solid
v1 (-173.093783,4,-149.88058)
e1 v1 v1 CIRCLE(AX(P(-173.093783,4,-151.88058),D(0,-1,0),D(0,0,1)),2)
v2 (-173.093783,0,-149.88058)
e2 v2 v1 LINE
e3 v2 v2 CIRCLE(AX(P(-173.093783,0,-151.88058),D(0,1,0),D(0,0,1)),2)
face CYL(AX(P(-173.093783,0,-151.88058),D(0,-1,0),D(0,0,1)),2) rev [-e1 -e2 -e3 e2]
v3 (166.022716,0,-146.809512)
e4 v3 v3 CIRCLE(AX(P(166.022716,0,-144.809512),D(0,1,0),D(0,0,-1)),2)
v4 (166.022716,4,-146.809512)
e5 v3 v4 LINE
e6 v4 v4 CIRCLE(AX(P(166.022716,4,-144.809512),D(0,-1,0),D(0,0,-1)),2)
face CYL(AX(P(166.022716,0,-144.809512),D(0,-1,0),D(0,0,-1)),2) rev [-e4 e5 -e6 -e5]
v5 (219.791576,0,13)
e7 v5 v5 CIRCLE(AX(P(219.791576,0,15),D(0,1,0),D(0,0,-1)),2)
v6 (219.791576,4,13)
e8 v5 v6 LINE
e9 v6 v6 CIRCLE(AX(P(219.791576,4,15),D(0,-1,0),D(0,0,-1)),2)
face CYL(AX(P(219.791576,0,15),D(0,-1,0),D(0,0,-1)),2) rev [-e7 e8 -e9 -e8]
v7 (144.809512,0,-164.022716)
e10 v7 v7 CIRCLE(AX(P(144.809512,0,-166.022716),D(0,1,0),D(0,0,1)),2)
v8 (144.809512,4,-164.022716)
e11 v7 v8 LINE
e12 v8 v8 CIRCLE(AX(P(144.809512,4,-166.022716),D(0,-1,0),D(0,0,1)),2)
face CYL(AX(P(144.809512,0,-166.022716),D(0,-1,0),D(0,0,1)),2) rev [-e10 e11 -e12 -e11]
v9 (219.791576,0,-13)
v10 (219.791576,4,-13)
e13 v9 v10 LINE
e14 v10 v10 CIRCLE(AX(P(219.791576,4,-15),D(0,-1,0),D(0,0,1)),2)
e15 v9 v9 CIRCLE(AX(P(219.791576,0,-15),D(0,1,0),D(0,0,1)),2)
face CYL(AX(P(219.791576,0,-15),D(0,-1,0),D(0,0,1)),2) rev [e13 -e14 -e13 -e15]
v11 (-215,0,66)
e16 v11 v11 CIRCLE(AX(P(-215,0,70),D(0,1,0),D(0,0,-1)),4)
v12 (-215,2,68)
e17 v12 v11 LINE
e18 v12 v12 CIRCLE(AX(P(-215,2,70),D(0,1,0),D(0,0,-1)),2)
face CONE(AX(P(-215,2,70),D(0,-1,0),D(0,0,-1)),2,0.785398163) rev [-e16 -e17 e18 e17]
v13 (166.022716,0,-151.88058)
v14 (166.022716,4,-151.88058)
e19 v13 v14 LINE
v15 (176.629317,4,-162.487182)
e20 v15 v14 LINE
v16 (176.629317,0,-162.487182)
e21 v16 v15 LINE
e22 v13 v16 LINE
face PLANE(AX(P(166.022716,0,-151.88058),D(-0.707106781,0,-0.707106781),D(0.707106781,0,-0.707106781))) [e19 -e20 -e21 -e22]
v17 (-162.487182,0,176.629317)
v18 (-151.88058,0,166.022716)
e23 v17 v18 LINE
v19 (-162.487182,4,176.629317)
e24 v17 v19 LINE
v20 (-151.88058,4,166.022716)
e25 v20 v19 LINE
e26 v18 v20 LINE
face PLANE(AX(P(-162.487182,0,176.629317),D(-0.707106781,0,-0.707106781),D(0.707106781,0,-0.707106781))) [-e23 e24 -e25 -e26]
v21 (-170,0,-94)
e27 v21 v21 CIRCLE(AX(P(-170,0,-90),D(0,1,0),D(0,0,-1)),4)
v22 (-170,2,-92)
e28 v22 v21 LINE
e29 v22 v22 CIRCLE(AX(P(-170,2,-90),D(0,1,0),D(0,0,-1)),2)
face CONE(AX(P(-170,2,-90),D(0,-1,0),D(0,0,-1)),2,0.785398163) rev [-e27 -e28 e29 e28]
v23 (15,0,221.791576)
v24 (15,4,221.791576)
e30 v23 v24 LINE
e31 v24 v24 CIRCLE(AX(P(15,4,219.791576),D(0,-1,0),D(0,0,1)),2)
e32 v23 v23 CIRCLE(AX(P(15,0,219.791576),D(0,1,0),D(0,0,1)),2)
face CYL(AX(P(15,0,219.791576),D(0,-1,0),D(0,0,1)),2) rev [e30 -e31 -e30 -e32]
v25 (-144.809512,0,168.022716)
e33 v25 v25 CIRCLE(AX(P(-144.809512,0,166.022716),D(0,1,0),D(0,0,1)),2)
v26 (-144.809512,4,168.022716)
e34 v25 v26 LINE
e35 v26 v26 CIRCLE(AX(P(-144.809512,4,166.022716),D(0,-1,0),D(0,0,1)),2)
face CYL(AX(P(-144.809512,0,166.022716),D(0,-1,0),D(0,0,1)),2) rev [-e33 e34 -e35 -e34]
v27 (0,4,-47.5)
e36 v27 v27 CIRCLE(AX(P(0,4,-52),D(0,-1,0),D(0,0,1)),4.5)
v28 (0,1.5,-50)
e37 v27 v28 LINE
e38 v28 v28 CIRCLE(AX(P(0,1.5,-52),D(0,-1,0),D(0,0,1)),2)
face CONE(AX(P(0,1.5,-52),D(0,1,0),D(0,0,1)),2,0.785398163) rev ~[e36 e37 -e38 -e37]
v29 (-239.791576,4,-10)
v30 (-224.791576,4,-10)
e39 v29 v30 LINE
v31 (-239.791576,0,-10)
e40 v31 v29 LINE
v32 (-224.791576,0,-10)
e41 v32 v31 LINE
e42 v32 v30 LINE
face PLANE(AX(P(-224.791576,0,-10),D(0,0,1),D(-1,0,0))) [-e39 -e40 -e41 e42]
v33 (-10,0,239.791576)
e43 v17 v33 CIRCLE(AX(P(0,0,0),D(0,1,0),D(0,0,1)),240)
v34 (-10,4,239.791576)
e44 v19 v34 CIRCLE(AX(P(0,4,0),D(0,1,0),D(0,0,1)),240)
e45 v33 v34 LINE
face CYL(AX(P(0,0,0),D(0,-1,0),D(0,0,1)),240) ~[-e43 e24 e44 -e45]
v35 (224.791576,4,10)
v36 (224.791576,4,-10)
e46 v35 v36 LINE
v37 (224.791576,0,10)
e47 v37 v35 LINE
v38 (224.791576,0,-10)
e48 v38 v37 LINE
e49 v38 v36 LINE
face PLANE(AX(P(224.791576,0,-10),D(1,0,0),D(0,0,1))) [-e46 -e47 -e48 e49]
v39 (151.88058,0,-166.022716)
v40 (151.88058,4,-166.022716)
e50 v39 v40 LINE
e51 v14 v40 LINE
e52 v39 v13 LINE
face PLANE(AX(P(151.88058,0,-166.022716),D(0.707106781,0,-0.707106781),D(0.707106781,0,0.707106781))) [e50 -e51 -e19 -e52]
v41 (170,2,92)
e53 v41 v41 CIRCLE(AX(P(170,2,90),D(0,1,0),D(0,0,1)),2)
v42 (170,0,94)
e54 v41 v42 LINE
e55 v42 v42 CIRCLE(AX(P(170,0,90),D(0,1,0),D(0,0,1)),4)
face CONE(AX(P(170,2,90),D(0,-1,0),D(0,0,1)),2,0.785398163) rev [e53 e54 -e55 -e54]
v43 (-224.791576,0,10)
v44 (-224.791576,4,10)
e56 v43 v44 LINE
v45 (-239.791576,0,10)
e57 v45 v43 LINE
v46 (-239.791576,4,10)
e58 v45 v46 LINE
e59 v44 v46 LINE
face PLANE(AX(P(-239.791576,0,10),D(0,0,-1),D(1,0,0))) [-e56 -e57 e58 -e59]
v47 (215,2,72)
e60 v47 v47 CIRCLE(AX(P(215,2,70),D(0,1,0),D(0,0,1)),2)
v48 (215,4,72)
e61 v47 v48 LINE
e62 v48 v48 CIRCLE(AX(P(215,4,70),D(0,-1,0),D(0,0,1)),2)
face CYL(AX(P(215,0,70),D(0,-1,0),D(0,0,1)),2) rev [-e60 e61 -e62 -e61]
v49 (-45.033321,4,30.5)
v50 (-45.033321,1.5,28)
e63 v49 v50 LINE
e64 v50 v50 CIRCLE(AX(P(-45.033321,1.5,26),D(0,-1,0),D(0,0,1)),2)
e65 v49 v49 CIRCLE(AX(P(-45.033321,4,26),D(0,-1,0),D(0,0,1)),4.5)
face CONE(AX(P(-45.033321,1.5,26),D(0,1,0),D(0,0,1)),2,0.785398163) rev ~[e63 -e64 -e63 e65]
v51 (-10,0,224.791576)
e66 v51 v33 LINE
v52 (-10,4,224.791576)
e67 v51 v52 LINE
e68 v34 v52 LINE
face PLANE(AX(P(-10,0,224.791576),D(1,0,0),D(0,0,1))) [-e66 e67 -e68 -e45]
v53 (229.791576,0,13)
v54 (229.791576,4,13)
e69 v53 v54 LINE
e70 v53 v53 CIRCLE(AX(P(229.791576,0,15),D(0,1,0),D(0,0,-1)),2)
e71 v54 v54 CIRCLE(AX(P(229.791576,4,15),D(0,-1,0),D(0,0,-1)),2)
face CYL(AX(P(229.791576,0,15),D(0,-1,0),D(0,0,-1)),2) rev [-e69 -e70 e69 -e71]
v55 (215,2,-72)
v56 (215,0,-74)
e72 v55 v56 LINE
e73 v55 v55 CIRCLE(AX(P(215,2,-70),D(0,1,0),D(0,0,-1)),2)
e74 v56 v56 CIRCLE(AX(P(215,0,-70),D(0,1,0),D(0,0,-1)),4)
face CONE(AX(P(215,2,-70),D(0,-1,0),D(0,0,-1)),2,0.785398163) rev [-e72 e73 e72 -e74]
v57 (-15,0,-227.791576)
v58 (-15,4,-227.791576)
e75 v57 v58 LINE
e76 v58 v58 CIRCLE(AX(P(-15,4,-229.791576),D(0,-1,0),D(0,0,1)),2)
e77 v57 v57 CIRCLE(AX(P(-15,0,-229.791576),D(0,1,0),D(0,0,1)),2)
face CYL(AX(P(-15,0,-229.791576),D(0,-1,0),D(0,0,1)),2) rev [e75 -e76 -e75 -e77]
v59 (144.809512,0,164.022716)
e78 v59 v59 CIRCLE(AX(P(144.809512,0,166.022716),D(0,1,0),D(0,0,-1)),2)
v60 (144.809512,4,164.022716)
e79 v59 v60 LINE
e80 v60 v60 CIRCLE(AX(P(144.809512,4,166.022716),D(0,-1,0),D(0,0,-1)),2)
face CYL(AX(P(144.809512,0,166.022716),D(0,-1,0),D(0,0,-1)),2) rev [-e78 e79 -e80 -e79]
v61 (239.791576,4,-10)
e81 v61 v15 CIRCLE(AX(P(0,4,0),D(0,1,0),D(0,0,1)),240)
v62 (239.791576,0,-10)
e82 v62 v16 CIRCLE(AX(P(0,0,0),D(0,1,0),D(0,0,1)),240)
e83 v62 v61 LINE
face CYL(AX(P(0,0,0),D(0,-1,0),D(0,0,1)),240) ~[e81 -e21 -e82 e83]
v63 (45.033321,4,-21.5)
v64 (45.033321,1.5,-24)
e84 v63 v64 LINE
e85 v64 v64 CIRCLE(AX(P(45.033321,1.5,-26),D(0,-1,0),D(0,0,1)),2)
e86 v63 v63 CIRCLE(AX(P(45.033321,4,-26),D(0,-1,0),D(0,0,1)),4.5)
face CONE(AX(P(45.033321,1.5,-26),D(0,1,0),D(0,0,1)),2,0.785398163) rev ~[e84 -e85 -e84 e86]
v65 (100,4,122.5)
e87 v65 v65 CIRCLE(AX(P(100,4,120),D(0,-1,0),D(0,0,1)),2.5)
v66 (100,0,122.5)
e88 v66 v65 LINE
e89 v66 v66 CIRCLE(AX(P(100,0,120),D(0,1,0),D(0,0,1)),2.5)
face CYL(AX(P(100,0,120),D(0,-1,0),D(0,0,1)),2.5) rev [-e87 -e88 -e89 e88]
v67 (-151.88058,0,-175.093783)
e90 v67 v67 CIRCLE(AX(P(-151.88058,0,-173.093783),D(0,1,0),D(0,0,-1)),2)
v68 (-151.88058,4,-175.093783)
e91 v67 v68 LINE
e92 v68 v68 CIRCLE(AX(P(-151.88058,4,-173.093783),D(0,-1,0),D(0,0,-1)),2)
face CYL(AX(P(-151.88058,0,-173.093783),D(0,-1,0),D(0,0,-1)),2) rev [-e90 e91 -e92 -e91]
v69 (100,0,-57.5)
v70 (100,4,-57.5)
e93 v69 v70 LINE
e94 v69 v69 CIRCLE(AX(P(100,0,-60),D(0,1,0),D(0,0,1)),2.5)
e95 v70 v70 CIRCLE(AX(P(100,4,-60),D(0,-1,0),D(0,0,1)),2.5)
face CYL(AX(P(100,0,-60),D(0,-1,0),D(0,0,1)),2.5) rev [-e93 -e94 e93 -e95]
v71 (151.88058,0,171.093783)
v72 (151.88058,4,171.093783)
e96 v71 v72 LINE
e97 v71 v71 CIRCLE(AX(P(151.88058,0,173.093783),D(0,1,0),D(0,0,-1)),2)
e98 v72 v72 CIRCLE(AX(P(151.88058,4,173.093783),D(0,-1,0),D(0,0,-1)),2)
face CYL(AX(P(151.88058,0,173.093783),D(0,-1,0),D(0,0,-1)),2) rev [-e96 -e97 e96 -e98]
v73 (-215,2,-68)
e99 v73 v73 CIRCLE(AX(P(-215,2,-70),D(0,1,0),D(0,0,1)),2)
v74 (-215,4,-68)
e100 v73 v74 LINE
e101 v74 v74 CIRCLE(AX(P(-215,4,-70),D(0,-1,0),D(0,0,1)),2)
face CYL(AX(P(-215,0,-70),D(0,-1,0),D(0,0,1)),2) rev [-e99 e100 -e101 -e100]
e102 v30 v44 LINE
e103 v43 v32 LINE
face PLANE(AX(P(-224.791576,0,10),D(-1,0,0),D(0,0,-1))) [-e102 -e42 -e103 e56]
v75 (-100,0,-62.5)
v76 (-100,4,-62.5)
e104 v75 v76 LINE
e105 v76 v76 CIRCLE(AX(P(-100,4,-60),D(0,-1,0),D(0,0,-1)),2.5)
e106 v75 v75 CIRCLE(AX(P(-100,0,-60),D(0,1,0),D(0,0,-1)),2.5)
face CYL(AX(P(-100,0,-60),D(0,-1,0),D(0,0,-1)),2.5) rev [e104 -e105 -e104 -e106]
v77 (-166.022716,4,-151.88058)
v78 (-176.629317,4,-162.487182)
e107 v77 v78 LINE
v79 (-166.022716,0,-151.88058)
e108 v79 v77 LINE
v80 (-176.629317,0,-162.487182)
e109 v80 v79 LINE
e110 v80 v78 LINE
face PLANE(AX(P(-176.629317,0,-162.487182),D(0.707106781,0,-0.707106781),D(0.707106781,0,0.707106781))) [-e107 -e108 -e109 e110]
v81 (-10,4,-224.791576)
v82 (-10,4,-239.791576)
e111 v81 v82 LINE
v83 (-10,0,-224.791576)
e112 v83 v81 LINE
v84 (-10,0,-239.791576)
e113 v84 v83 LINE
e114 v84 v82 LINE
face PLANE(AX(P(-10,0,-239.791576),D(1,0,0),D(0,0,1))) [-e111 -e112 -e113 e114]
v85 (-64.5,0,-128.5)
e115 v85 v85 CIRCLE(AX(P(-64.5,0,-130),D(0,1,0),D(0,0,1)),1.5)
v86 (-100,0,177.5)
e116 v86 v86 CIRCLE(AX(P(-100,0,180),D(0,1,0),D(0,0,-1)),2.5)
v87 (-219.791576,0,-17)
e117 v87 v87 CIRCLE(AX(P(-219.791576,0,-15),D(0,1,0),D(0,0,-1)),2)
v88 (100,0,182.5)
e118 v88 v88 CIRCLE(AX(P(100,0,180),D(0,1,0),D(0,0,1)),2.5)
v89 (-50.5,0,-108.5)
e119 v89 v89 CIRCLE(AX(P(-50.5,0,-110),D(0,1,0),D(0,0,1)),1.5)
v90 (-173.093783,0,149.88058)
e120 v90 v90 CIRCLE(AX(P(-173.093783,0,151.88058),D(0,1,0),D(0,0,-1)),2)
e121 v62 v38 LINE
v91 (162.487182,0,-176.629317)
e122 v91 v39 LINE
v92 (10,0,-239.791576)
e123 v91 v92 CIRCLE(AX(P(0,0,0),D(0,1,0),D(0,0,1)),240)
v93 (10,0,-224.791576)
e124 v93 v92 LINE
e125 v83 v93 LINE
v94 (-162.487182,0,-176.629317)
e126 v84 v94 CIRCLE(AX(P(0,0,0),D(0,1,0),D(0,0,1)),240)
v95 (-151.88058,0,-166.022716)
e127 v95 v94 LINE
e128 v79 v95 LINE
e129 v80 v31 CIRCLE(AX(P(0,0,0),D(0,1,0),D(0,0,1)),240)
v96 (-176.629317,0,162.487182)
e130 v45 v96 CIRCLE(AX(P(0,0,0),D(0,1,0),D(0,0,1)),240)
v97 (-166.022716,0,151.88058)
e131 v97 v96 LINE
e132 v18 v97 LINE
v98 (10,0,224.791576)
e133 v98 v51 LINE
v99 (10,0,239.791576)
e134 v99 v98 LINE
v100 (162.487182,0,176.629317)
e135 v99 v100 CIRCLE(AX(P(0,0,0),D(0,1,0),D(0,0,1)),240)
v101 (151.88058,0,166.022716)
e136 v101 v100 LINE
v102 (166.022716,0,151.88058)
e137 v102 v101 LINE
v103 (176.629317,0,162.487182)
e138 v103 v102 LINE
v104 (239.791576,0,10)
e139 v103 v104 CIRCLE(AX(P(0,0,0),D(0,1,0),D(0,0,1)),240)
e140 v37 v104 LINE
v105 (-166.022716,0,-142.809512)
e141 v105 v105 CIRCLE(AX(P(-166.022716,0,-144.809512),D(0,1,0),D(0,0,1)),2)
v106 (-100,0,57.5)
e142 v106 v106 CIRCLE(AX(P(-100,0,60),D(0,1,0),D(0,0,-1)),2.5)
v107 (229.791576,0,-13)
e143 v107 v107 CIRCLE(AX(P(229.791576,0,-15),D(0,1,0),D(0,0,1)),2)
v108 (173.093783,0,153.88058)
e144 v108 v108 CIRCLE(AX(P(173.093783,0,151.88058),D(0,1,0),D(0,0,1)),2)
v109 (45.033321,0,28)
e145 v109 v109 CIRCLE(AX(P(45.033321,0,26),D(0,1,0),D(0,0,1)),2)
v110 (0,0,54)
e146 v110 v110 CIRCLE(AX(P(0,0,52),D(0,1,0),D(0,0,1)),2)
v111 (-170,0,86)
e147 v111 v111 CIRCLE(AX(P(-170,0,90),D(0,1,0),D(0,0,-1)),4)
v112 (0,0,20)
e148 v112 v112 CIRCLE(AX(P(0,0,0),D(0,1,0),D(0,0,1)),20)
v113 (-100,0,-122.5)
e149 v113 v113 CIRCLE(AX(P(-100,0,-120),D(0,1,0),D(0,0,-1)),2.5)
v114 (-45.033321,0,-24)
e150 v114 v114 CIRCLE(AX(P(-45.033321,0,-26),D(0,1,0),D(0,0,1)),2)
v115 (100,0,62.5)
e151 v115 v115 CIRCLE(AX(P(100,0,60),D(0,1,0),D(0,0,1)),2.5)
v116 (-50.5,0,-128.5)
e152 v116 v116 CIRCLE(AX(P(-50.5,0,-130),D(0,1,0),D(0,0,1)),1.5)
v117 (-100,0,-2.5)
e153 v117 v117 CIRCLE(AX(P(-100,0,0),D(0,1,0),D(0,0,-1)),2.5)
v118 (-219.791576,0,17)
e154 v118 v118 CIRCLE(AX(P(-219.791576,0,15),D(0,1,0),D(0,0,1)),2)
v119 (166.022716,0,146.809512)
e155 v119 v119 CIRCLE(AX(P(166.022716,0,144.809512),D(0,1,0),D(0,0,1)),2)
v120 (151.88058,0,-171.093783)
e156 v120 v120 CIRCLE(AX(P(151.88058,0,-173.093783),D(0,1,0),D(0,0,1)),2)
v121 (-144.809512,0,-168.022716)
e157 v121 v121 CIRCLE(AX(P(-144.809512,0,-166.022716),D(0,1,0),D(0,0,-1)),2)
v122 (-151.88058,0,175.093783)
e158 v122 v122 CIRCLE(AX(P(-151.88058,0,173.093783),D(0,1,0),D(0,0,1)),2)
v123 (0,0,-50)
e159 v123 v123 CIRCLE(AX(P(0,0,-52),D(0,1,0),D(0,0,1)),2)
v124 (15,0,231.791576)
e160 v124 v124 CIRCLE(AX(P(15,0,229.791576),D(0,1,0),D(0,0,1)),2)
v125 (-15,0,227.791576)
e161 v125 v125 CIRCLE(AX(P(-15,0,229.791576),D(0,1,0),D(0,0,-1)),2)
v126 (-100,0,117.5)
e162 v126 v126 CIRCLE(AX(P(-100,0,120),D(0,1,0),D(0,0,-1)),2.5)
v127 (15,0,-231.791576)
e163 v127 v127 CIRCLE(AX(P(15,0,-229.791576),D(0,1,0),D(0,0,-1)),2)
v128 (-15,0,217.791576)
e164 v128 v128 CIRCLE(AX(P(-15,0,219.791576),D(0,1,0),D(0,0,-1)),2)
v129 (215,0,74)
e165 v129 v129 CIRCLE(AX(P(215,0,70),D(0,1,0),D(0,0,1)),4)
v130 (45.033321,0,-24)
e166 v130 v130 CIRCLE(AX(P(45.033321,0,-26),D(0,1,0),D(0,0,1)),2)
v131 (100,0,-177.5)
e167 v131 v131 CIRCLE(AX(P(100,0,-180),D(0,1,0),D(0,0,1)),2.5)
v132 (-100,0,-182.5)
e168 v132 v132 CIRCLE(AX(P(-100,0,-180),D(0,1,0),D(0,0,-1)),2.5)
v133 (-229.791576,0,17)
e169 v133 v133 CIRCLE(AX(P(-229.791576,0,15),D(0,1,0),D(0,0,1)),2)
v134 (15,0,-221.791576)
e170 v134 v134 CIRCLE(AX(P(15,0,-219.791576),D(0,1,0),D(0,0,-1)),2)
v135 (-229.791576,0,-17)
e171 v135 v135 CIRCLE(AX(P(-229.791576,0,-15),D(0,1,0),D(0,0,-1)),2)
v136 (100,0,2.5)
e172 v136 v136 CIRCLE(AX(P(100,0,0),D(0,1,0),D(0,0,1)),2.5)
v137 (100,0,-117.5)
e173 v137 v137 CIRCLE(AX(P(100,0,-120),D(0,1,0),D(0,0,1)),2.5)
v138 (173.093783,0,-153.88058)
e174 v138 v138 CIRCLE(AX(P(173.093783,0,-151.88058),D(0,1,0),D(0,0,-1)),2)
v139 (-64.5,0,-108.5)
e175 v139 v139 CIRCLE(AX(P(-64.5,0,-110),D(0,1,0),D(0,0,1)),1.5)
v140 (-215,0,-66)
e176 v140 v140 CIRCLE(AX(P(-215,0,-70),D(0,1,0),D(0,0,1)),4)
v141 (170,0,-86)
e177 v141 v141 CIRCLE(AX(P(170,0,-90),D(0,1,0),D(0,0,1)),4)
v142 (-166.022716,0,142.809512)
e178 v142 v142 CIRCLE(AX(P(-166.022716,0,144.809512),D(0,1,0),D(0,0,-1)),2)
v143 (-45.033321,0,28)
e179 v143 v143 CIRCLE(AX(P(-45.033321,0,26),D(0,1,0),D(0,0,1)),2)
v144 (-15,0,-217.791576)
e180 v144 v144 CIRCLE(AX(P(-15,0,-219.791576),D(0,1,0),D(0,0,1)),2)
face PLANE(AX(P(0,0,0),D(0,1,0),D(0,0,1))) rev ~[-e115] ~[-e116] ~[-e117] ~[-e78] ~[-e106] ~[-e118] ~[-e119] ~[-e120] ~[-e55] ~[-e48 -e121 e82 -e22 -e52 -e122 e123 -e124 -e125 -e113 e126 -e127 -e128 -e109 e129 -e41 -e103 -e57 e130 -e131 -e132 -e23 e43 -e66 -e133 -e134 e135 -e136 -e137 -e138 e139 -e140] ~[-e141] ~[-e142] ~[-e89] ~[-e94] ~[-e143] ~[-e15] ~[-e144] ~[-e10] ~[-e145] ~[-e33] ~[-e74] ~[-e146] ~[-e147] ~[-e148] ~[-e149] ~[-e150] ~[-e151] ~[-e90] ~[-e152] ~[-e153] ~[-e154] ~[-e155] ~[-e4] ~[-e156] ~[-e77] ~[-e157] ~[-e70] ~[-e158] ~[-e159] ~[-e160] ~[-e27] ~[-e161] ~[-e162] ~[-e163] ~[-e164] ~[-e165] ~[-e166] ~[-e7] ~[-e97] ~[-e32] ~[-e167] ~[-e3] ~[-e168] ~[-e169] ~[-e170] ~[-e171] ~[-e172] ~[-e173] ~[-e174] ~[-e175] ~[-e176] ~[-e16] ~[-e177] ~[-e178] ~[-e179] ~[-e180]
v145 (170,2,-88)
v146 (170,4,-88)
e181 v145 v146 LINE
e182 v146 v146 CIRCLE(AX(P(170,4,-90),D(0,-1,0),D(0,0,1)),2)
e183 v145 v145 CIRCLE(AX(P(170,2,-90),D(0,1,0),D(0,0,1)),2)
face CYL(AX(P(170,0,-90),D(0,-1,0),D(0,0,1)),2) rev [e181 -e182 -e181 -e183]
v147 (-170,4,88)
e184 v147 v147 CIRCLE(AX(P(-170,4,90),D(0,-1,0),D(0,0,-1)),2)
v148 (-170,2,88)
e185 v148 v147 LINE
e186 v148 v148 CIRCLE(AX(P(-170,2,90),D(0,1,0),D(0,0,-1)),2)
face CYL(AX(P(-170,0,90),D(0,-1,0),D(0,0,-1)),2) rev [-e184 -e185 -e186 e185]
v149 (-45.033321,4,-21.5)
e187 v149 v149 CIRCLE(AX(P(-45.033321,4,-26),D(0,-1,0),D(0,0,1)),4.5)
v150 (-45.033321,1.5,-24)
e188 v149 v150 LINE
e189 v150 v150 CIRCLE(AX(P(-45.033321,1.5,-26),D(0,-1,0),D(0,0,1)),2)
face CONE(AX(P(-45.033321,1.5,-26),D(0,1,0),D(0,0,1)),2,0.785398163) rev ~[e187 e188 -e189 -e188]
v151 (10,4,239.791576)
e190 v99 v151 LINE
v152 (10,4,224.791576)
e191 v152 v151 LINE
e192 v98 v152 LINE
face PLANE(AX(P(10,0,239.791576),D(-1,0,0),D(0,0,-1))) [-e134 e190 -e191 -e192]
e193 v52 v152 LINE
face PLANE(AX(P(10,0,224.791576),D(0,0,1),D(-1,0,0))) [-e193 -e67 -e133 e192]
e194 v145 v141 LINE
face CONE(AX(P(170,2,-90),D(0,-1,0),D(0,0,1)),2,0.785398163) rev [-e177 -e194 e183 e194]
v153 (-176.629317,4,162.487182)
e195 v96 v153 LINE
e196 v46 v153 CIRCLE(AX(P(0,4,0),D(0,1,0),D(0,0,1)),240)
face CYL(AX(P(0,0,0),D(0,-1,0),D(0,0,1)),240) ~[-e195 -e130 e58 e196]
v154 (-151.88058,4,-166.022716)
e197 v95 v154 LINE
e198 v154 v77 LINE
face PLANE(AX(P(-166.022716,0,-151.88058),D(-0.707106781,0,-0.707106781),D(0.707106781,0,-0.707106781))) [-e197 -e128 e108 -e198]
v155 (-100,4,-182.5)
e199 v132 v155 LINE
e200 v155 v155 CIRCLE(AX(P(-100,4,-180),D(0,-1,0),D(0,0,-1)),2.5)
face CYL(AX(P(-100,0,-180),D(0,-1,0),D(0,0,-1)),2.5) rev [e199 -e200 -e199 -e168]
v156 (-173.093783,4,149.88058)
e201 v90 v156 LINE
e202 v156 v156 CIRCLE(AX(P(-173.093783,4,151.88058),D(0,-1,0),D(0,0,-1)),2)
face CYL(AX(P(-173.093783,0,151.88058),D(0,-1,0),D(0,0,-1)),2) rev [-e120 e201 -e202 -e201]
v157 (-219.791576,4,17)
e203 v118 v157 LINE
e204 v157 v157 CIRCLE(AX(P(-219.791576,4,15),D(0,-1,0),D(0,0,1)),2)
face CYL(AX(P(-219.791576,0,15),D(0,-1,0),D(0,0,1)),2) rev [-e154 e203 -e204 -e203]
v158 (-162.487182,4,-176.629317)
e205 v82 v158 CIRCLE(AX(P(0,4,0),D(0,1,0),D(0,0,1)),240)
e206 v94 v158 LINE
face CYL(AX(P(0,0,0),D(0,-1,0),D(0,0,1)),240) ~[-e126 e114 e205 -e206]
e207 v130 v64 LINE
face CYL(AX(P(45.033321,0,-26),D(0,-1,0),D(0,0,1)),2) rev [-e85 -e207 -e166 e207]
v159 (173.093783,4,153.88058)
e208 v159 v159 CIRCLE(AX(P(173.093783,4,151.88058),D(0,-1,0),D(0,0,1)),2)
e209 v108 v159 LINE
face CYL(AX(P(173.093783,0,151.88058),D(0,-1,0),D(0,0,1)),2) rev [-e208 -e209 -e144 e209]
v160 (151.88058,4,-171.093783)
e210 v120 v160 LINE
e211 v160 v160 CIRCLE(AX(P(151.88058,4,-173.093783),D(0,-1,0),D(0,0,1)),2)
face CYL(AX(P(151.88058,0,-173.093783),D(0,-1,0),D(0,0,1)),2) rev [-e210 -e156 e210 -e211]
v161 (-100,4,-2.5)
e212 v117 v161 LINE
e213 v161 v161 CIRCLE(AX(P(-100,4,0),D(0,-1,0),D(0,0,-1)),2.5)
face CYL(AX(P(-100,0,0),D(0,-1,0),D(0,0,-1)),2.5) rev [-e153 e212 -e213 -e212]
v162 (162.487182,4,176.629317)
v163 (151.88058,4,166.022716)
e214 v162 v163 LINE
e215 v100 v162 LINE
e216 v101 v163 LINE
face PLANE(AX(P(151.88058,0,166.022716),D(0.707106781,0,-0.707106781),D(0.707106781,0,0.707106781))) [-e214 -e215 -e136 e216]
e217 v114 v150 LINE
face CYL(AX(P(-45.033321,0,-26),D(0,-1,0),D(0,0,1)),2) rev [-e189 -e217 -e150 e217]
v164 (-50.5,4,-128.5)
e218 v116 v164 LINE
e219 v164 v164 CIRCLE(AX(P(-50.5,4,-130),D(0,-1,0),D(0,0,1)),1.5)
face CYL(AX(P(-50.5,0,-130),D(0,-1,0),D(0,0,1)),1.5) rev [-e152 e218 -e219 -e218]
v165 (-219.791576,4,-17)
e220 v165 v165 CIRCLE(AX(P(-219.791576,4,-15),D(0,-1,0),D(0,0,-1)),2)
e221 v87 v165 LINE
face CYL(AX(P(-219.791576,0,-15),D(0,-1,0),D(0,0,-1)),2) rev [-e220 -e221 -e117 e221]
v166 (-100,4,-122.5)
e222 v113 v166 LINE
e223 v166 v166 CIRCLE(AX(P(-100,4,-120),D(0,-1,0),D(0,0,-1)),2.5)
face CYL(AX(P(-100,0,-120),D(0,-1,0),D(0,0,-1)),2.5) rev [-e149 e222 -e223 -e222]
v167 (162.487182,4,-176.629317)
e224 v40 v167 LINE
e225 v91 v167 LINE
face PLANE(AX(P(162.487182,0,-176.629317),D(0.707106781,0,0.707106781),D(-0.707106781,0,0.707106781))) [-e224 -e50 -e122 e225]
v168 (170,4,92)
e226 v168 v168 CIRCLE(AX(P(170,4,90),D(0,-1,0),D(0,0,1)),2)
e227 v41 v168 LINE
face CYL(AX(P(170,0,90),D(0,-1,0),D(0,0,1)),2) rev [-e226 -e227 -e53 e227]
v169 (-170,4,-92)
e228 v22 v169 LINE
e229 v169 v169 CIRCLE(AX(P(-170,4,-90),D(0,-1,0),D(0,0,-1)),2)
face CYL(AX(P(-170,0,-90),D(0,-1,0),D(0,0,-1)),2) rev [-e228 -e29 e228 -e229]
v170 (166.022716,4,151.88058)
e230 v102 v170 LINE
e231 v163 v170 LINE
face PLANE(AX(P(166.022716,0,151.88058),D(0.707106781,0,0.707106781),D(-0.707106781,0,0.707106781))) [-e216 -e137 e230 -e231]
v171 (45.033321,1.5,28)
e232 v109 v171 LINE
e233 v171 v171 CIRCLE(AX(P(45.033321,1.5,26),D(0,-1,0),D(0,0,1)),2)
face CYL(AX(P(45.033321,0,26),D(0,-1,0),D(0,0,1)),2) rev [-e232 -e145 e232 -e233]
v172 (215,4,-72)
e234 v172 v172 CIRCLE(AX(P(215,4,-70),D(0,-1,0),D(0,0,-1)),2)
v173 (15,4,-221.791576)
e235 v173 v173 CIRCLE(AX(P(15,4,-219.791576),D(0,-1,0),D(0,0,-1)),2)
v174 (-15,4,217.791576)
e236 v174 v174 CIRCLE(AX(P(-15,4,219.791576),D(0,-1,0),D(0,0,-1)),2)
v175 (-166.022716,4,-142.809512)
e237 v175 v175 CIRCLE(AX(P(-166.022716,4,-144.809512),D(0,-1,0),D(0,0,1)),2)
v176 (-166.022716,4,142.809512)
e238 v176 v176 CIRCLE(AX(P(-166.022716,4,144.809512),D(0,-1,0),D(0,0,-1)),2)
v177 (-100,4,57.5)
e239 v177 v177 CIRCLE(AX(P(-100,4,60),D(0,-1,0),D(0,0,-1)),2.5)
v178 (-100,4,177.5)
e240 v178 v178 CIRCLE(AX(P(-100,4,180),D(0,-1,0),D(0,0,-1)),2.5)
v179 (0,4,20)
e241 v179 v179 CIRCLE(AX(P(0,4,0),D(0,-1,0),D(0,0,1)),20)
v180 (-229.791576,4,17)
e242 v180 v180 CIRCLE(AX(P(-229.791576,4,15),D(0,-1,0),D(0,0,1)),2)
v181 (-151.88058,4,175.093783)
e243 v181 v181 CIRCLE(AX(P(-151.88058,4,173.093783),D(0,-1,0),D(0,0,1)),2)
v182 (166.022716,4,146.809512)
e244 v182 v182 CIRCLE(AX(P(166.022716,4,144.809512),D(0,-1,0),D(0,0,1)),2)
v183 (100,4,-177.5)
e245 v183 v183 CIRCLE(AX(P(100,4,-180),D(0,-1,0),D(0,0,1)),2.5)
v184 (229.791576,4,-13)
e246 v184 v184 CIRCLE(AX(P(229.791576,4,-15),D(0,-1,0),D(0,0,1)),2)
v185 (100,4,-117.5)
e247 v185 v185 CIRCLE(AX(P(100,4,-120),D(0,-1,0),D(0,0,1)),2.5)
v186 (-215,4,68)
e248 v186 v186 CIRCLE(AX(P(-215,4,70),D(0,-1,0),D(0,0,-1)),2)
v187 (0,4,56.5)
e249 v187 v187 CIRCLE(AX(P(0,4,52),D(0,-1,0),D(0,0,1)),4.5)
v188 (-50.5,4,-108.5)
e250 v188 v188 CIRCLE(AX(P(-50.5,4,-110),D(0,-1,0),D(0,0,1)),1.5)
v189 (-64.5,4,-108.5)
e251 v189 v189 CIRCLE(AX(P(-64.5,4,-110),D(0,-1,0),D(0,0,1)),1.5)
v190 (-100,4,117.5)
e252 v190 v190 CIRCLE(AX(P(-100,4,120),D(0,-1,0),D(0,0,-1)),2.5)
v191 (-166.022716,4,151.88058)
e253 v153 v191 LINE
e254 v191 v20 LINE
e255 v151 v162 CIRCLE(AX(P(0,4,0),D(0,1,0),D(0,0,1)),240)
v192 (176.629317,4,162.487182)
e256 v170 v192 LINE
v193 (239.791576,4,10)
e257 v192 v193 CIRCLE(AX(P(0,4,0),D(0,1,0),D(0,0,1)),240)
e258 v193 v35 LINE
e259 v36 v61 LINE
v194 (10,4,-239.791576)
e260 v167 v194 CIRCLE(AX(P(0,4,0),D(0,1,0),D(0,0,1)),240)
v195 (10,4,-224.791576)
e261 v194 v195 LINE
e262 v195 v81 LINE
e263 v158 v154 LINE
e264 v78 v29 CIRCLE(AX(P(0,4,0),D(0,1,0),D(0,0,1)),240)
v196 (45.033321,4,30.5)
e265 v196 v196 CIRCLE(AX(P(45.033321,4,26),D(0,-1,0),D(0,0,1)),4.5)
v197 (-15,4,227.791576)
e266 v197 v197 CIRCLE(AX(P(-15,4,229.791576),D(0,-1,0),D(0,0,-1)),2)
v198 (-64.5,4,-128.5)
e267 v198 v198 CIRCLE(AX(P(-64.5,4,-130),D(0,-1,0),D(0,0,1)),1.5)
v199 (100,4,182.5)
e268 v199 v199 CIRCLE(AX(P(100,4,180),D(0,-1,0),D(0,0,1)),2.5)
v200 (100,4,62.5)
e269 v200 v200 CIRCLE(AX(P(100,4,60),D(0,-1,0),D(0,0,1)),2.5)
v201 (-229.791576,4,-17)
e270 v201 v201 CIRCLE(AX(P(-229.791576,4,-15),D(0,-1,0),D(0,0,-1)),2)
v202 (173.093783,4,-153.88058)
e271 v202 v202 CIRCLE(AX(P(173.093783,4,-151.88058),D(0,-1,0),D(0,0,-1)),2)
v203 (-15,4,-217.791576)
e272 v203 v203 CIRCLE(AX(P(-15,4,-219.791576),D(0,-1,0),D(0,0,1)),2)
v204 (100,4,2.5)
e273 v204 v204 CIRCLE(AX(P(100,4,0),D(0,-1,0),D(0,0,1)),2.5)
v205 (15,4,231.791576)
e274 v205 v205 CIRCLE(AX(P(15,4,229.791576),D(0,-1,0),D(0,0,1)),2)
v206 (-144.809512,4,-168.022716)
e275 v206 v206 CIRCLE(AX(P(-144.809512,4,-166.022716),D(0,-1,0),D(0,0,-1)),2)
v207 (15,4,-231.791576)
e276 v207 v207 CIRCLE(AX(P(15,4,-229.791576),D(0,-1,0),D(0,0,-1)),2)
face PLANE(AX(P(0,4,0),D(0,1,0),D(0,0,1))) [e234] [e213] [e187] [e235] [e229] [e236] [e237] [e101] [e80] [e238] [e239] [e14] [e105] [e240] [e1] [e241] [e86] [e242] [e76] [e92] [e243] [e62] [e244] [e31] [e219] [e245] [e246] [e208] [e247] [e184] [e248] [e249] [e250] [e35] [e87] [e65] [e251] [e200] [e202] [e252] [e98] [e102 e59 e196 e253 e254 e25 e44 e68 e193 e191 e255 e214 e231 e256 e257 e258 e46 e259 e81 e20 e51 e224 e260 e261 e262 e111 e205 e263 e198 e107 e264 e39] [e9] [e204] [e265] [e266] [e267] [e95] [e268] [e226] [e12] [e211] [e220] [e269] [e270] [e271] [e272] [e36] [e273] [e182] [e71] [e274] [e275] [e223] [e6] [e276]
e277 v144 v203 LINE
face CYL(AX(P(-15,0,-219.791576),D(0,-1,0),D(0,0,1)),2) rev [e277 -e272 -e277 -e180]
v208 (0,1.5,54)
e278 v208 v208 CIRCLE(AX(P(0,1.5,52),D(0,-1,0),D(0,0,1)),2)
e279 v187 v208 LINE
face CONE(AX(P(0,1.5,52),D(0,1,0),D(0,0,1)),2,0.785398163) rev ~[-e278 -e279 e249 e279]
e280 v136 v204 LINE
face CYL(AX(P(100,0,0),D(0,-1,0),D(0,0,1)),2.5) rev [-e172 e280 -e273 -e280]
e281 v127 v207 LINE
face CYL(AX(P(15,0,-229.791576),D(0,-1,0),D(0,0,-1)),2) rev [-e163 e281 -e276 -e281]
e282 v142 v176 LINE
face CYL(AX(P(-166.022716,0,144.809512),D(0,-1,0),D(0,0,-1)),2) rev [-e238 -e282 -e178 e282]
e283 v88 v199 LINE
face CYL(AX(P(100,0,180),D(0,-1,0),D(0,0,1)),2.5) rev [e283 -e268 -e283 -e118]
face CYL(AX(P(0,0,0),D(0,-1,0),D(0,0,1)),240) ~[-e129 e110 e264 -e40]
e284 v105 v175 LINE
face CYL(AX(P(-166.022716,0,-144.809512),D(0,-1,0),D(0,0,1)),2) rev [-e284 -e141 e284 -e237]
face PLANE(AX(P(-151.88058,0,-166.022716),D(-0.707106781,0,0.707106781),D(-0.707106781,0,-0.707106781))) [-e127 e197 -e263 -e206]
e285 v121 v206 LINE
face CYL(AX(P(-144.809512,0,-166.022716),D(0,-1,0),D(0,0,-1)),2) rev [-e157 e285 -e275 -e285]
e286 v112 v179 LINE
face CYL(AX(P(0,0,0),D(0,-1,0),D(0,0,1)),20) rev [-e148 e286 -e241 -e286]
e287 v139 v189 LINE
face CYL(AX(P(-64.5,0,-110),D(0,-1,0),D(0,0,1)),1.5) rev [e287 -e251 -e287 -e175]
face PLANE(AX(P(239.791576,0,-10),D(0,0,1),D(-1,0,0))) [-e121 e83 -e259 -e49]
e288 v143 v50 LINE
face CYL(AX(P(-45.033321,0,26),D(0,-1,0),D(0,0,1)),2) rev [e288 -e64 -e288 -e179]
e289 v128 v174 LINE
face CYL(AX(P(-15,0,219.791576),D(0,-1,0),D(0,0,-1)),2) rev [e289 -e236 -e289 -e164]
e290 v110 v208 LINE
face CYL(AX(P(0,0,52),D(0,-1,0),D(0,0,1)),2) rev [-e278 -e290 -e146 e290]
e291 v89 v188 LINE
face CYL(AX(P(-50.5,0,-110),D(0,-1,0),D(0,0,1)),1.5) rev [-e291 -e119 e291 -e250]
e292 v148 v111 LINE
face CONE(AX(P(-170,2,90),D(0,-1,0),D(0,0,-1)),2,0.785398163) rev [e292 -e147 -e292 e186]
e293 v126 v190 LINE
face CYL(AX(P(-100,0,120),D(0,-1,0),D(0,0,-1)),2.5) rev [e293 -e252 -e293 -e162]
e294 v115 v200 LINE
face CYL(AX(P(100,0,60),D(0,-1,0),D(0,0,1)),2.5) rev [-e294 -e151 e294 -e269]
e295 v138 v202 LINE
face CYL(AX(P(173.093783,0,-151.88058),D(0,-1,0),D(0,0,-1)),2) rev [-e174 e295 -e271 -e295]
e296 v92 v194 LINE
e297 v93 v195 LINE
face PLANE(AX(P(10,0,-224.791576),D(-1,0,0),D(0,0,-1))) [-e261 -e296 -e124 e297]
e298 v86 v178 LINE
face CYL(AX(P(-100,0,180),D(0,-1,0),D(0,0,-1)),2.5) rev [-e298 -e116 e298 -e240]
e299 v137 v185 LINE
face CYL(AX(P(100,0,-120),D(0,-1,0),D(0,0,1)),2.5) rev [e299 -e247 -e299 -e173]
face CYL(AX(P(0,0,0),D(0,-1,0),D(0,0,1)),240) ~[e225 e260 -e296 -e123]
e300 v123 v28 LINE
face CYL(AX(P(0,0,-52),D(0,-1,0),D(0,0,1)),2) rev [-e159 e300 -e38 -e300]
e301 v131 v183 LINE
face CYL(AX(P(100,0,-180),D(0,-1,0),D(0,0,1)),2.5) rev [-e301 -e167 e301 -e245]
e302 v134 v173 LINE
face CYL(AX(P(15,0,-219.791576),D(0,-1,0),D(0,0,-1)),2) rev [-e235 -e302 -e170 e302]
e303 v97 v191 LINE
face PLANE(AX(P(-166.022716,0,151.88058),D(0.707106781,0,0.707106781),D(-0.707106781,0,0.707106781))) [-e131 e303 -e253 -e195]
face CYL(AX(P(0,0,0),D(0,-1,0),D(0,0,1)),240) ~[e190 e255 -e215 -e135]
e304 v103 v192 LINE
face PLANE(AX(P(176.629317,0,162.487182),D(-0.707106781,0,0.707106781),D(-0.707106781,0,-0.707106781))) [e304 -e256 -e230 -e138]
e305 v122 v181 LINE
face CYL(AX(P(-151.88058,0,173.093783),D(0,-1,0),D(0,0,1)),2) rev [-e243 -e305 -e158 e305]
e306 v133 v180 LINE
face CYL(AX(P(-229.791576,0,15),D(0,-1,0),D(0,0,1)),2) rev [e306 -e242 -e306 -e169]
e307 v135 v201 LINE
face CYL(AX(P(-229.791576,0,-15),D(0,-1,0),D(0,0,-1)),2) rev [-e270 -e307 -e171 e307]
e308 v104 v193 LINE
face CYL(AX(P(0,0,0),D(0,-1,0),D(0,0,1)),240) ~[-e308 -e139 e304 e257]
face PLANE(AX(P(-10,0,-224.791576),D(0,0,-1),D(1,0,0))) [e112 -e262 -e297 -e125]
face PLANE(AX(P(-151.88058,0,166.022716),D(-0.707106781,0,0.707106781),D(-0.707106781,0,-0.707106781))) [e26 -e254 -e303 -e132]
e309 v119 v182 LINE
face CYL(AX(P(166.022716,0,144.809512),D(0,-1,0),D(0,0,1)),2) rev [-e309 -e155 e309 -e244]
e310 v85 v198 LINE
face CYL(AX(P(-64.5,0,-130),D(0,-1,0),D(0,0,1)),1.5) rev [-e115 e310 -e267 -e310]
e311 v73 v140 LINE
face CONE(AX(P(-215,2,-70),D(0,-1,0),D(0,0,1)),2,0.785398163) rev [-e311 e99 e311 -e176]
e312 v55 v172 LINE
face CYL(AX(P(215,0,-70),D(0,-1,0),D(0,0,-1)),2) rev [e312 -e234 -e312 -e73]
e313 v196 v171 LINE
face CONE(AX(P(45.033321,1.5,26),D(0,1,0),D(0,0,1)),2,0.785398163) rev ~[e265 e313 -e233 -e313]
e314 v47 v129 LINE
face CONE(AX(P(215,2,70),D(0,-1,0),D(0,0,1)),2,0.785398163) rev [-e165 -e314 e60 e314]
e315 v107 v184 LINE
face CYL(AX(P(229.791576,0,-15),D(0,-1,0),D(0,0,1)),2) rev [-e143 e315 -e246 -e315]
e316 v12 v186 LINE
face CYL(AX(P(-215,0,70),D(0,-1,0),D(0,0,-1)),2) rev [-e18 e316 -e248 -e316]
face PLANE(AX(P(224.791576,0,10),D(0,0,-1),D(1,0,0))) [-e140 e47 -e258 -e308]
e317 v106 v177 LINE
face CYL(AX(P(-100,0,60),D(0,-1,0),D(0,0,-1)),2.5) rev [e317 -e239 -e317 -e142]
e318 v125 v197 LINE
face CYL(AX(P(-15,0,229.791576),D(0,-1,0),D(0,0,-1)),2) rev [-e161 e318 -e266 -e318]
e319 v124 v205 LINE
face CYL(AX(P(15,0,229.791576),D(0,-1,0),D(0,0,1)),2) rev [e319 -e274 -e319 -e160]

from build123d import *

# Parameters (mm, degrees)
SKETCH_1_R          = 240
EXTRUDE_1_DEPTH     = 4
SKETCH_2_R          = 2
SKETCH_2_R_2        = 1.5
SKETCH_2_R_3        = 2.5
SKETCH_2_R_4        = 20
CUT_EXTRUDE_2_DEPTH = 340.434824377
CHAMFER_1_SIZE      = 2.5
SKETCH_3_R          = 2
CUT_EXTRUDE_3_DEPTH = 340.434824377
CHAMFER_2_SIZE      = 2


with BuildPart() as part:
    # 草图1 → 凸台-拉伸1 (new body)
    with BuildSketch(Plane(origin=(0, 0, 0), x_dir=(1, 0, 0), z_dir=(0, 1, 0))):
        with Locations(Location((0, 0, 0), (0, 0, 270))):
            Circle(SKETCH_1_R)
    extrude(amount=EXTRUDE_1_DEPTH)

    # 草图2 → 切除-拉伸2 (cut, through all)
    with BuildSketch(Plane(origin=(0, 0, 0), x_dir=(1, 0, 0), z_dir=(0, 1, 0))):
        with Locations(Location((-45.033320997, 26, 0), (0, 0, 270))):
            Circle(SKETCH_2_R)
        with Locations(Location((0, 52, 0), (0, 0, 270))):
            Circle(SKETCH_2_R)
        with Locations(Location((45.033320997, 26, 0), (0, 0, 270))):
            Circle(SKETCH_2_R)
        with Locations(Location((45.033320997, -26, 0), (0, 0, 270))):
            Circle(SKETCH_2_R)
        with Locations(Location((0, -52, 0), (0, 0, 270))):
            Circle(SKETCH_2_R)
        with Locations(Location((-45.033320997, -26, 0), (0, 0, 270))):
            Circle(SKETCH_2_R)
        with Locations(Location((-64.5, 130, 0), (0, 0, 270))):
            Circle(SKETCH_2_R_2)
        with Locations(Location((100, 0, 0), (0, 0, 270))):
            Circle(SKETCH_2_R_3)
        with Locations(Location((100, 60, 0), (0, 0, 270))):
            Circle(SKETCH_2_R_3)
        with Locations(Location((100, 120, 0), (0, 0, 270))):
            Circle(SKETCH_2_R_3)
        with Locations(Location((100, 180, 0), (0, 0, 270))):
            Circle(SKETCH_2_R_3)
        with Locations(Location((100, -60, 0), (0, 0, 270))):
            Circle(SKETCH_2_R_3)
        with Locations(Location((100, -120, 0), (0, 0, 270))):
            Circle(SKETCH_2_R_3)
        with Locations(Location((100, -180, 0), (0, 0, 270))):
            Circle(SKETCH_2_R_3)
        with Locations(Location((-100, -180, 0), (0, 0, 90))):
            Circle(SKETCH_2_R_3)
        with Locations(Location((-100, -120, 0), (0, 0, 90))):
            Circle(SKETCH_2_R_3)
        with Locations(Location((-100, -60, 0), (0, 0, 90))):
            Circle(SKETCH_2_R_3)
        with Locations(Location((-100, 180, 0), (0, 0, 90))):
            Circle(SKETCH_2_R_3)
        with Locations(Location((-100, 120, 0), (0, 0, 90))):
            Circle(SKETCH_2_R_3)
        with Locations(Location((-100, 60, 0), (0, 0, 90))):
            Circle(SKETCH_2_R_3)
        with Locations(Location((-100, 0, 0), (0, 0, 90))):
            Circle(SKETCH_2_R_3)
        with Locations(Location((-50.5, 130, 0), (0, 0, 270))):
            Circle(SKETCH_2_R_2)
        with Locations(Location((-64.5, 110, 0), (0, 0, 270))):
            Circle(SKETCH_2_R_2)
        with Locations(Location((-50.5, 110, 0), (0, 0, 270))):
            Circle(SKETCH_2_R_2)
        with Locations(Location((0, 0, 0), (0, 0, 270))):
            Circle(SKETCH_2_R_4)
        with Locations(Location((170, 90, 0), (0, 0, 270))):
            Circle(SKETCH_2_R)
        with Locations(Location((170, -90, 0), (0, 0, 270))):
            Circle(SKETCH_2_R)
        with Locations(Location((-170, -90, 0), (0, 0, 90))):
            Circle(SKETCH_2_R)
        with Locations(Location((-170, 90, 0), (0, 0, 90))):
            Circle(SKETCH_2_R)
        with Locations(Location((215, -70, 0), (0, 0, 270))):
            Circle(SKETCH_2_R)
        with Locations(Location((215, 70, 0), (0, 0, 90))):
            Circle(SKETCH_2_R)
        with Locations(Location((-215, 70, 0), (0, 0, 270))):
            Circle(SKETCH_2_R)
        with Locations(Location((-215, -70, 0), (0, 0, 90))):
            Circle(SKETCH_2_R)
    extrude(amount=CUT_EXTRUDE_2_DEPTH, mode=Mode.SUBTRACT)

    # 倒角1
    chamfer_1_edges = [part.edges().sort_by_distance(p)[0] for p in [
        (-45.033320997, 4, -28),
        (0, 4, -54),
        (45.033320997, 4, -28),
        (45.033320997, 4, 24),
        (0, 4, 50),
        (-45.033320997, 4, 24),
    ]]
    chamfer(chamfer_1_edges, length=CHAMFER_1_SIZE)

    # 草图3 → 切除-拉伸3 (cut, through all)
    with BuildSketch(Plane(origin=(0, 0, 0), x_dir=(1, 0, 0), z_dir=(0, 1, 0))):
        with Locations(Location((151.880580048, 173.093783484, 0), (0, 0, 270))):
            Circle(SKETCH_3_R)
        with Locations(Location((-15, 229.791576166, 0), (0, 0, 270))):
            Circle(SKETCH_3_R)
        with Locations(Location((-15, 219.791576166, 0), (0, 0, 270))):
            Circle(SKETCH_3_R)
        with Locations(Location((15, 219.791576166, 0), (0, 0, 90))):
            Circle(SKETCH_3_R)
        with Locations(Location((15, 229.791576166, 0), (0, 0, 90))):
            Circle(SKETCH_3_R)
        with Locations(Location((144.809512237, 166.022715672, 0), (0, 0, 270))):
            Circle(SKETCH_3_R)
        with Locations(Location((173.093783484, 151.880580048, 0), (0, 0, 90))):
            Circle(SKETCH_3_R)
        with Locations(Location((166.022715672, 144.809512237, 0), (0, 0, 90))):
            Circle(SKETCH_3_R)
        with Locations(Location((229.791576166, 15, 0), (0, 0, 270))):
            Circle(SKETCH_3_R)
        with Locations(Location((219.791576166, 15, 0), (0, 0, 270))):
            Circle(SKETCH_3_R)
        with Locations(Location((229.791576166, -15, 0), (0, 0, 90))):
            Circle(SKETCH_3_R)
        with Locations(Location((219.791576166, -15, 0), (0, 0, 90))):
            Circle(SKETCH_3_R)
        with Locations(Location((173.093783484, -151.880580048, 0), (0, 0, 270))):
            Circle(SKETCH_3_R)
        with Locations(Location((166.022715672, -144.809512237, 0), (0, 0, 270))):
            Circle(SKETCH_3_R)
        with Locations(Location((151.880580048, -173.093783484, 0), (0, 0, 90))):
            Circle(SKETCH_3_R)
        with Locations(Location((144.809512237, -166.022715672, 0), (0, 0, 90))):
            Circle(SKETCH_3_R)
        with Locations(Location((15, -229.791576166, 0), (0, 0, 270))):
            Circle(SKETCH_3_R)
        with Locations(Location((15, -219.791576166, 0), (0, 0, 270))):
            Circle(SKETCH_3_R)
        with Locations(Location((-15, -229.791576166, 0), (0, 0, 90))):
            Circle(SKETCH_3_R)
        with Locations(Location((-15, -219.791576166, 0), (0, 0, 90))):
            Circle(SKETCH_3_R)
        with Locations(Location((-151.880580048, -173.093783484, 0), (0, 0, 270))):
            Circle(SKETCH_3_R)
        with Locations(Location((-144.809512237, -166.022715672, 0), (0, 0, 270))):
            Circle(SKETCH_3_R)
        with Locations(Location((-173.093783484, -151.880580048, 0), (0, 0, 90))):
            Circle(SKETCH_3_R)
        with Locations(Location((-166.022715672, -144.809512237, 0), (0, 0, 90))):
            Circle(SKETCH_3_R)
        with Locations(Location((-229.791576166, -15, 0), (0, 0, 270))):
            Circle(SKETCH_3_R)
        with Locations(Location((-219.791576166, -15, 0), (0, 0, 270))):
            Circle(SKETCH_3_R)
        with Locations(Location((-229.791576166, 15, 0), (0, 0, 90))):
            Circle(SKETCH_3_R)
        with Locations(Location((-219.791576166, 15, 0), (0, 0, 90))):
            Circle(SKETCH_3_R)
        with Locations(Location((-173.093783484, 151.880580048, 0), (0, 0, 270))):
            Circle(SKETCH_3_R)
        with Locations(Location((-166.022715672, 144.809512237, 0), (0, 0, 270))):
            Circle(SKETCH_3_R)
        with Locations(Location((-151.880580048, 173.093783484, 0), (0, 0, 90))):
            Circle(SKETCH_3_R)
        with Locations(Location((-144.809512237, 166.022715672, 0), (0, 0, 90))):
            Circle(SKETCH_3_R)
        with BuildLine():
            Line((-10, 239.791576166), (-10, 224.791576166))
            Line((-10, 224.791576166), (10, 224.791576166))
            Line((10, 224.791576166), (10, 239.791576166))
            ThreePointArc((10, 239.791576166), (0, 240), (-10, 239.791576166))
        make_face()
        with BuildLine():
            Line((166.022715672, 151.880580048), (176.62931739, 162.487181766))
            ThreePointArc((176.62931739, 162.487181766), (169.705627485, 169.705627485), (162.487181766, 176.62931739))
            Line((162.487181766, 176.62931739), (151.880580048, 166.022715672))
            Line((151.880580048, 166.022715672), (166.022715672, 151.880580048))
        make_face()
        with BuildLine():
            Line((224.791576166, -10), (239.791576166, -10))
            ThreePointArc((239.791576166, -10), (240, 0), (239.791576166, 10))
            Line((239.791576166, 10), (224.791576166, 10))
            Line((224.791576166, 10), (224.791576166, -10))
        make_face()
        with BuildLine():
            Line((151.880580048, -166.022715672), (162.487181766, -176.62931739))
            ThreePointArc((162.487181766, -176.62931739), (169.705627485, -169.705627485), (176.62931739, -162.487181766))
            Line((176.62931739, -162.487181766), (166.022715672, -151.880580048))
            Line((166.022715672, -151.880580048), (151.880580048, -166.022715672))
        make_face()
        with BuildLine():
            Line((-10, -224.791576166), (-10, -239.791576166))
            ThreePointArc((-10, -239.791576166), (0, -240), (10, -239.791576166))
            Line((10, -239.791576166), (10, -224.791576166))
            Line((10, -224.791576166), (-10, -224.791576166))
        make_face()
        with BuildLine():
            Line((-166.022715672, -151.880580048), (-176.62931739, -162.487181766))
            ThreePointArc((-176.62931739, -162.487181766), (-169.705627485, -169.705627485), (-162.487181766, -176.62931739))
            Line((-162.487181766, -176.62931739), (-151.880580048, -166.022715672))
            Line((-151.880580048, -166.022715672), (-166.022715672, -151.880580048))
        make_face()
        with BuildLine():
            Line((-224.791576166, 10), (-239.791576166, 10))
            ThreePointArc((-239.791576166, 10), (-240, 0), (-239.791576166, -10))
            Line((-239.791576166, -10), (-224.791576166, -10))
            Line((-224.791576166, -10), (-224.791576166, 10))
        make_face()
        with BuildLine():
            Line((-151.880580048, 166.022715672), (-162.487181766, 176.62931739))
            ThreePointArc((-162.487181766, 176.62931739), (-169.705627485, 169.705627485), (-176.62931739, 162.487181766))
            Line((-176.62931739, 162.487181766), (-166.022715672, 151.880580048))
            Line((-166.022715672, 151.880580048), (-151.880580048, 166.022715672))
        make_face()
    extrude(amount=CUT_EXTRUDE_3_DEPTH, mode=Mode.SUBTRACT)

    # 倒角2
    chamfer_2_edges = [part.edges().sort_by_distance(p)[0] for p in [
        (170, 0, -92),
        (170, 0, 88),
        (-170, 0, 92),
        (-170, 0, -88),
        (215, 0, 68),
        (215, 0, -68),
        (-215, 0, -72),
        (-215, 0, 72),
    ]]
    chamfer(chamfer_2_edges, length=CHAMFER_2_SIZE)


solid = part.part
